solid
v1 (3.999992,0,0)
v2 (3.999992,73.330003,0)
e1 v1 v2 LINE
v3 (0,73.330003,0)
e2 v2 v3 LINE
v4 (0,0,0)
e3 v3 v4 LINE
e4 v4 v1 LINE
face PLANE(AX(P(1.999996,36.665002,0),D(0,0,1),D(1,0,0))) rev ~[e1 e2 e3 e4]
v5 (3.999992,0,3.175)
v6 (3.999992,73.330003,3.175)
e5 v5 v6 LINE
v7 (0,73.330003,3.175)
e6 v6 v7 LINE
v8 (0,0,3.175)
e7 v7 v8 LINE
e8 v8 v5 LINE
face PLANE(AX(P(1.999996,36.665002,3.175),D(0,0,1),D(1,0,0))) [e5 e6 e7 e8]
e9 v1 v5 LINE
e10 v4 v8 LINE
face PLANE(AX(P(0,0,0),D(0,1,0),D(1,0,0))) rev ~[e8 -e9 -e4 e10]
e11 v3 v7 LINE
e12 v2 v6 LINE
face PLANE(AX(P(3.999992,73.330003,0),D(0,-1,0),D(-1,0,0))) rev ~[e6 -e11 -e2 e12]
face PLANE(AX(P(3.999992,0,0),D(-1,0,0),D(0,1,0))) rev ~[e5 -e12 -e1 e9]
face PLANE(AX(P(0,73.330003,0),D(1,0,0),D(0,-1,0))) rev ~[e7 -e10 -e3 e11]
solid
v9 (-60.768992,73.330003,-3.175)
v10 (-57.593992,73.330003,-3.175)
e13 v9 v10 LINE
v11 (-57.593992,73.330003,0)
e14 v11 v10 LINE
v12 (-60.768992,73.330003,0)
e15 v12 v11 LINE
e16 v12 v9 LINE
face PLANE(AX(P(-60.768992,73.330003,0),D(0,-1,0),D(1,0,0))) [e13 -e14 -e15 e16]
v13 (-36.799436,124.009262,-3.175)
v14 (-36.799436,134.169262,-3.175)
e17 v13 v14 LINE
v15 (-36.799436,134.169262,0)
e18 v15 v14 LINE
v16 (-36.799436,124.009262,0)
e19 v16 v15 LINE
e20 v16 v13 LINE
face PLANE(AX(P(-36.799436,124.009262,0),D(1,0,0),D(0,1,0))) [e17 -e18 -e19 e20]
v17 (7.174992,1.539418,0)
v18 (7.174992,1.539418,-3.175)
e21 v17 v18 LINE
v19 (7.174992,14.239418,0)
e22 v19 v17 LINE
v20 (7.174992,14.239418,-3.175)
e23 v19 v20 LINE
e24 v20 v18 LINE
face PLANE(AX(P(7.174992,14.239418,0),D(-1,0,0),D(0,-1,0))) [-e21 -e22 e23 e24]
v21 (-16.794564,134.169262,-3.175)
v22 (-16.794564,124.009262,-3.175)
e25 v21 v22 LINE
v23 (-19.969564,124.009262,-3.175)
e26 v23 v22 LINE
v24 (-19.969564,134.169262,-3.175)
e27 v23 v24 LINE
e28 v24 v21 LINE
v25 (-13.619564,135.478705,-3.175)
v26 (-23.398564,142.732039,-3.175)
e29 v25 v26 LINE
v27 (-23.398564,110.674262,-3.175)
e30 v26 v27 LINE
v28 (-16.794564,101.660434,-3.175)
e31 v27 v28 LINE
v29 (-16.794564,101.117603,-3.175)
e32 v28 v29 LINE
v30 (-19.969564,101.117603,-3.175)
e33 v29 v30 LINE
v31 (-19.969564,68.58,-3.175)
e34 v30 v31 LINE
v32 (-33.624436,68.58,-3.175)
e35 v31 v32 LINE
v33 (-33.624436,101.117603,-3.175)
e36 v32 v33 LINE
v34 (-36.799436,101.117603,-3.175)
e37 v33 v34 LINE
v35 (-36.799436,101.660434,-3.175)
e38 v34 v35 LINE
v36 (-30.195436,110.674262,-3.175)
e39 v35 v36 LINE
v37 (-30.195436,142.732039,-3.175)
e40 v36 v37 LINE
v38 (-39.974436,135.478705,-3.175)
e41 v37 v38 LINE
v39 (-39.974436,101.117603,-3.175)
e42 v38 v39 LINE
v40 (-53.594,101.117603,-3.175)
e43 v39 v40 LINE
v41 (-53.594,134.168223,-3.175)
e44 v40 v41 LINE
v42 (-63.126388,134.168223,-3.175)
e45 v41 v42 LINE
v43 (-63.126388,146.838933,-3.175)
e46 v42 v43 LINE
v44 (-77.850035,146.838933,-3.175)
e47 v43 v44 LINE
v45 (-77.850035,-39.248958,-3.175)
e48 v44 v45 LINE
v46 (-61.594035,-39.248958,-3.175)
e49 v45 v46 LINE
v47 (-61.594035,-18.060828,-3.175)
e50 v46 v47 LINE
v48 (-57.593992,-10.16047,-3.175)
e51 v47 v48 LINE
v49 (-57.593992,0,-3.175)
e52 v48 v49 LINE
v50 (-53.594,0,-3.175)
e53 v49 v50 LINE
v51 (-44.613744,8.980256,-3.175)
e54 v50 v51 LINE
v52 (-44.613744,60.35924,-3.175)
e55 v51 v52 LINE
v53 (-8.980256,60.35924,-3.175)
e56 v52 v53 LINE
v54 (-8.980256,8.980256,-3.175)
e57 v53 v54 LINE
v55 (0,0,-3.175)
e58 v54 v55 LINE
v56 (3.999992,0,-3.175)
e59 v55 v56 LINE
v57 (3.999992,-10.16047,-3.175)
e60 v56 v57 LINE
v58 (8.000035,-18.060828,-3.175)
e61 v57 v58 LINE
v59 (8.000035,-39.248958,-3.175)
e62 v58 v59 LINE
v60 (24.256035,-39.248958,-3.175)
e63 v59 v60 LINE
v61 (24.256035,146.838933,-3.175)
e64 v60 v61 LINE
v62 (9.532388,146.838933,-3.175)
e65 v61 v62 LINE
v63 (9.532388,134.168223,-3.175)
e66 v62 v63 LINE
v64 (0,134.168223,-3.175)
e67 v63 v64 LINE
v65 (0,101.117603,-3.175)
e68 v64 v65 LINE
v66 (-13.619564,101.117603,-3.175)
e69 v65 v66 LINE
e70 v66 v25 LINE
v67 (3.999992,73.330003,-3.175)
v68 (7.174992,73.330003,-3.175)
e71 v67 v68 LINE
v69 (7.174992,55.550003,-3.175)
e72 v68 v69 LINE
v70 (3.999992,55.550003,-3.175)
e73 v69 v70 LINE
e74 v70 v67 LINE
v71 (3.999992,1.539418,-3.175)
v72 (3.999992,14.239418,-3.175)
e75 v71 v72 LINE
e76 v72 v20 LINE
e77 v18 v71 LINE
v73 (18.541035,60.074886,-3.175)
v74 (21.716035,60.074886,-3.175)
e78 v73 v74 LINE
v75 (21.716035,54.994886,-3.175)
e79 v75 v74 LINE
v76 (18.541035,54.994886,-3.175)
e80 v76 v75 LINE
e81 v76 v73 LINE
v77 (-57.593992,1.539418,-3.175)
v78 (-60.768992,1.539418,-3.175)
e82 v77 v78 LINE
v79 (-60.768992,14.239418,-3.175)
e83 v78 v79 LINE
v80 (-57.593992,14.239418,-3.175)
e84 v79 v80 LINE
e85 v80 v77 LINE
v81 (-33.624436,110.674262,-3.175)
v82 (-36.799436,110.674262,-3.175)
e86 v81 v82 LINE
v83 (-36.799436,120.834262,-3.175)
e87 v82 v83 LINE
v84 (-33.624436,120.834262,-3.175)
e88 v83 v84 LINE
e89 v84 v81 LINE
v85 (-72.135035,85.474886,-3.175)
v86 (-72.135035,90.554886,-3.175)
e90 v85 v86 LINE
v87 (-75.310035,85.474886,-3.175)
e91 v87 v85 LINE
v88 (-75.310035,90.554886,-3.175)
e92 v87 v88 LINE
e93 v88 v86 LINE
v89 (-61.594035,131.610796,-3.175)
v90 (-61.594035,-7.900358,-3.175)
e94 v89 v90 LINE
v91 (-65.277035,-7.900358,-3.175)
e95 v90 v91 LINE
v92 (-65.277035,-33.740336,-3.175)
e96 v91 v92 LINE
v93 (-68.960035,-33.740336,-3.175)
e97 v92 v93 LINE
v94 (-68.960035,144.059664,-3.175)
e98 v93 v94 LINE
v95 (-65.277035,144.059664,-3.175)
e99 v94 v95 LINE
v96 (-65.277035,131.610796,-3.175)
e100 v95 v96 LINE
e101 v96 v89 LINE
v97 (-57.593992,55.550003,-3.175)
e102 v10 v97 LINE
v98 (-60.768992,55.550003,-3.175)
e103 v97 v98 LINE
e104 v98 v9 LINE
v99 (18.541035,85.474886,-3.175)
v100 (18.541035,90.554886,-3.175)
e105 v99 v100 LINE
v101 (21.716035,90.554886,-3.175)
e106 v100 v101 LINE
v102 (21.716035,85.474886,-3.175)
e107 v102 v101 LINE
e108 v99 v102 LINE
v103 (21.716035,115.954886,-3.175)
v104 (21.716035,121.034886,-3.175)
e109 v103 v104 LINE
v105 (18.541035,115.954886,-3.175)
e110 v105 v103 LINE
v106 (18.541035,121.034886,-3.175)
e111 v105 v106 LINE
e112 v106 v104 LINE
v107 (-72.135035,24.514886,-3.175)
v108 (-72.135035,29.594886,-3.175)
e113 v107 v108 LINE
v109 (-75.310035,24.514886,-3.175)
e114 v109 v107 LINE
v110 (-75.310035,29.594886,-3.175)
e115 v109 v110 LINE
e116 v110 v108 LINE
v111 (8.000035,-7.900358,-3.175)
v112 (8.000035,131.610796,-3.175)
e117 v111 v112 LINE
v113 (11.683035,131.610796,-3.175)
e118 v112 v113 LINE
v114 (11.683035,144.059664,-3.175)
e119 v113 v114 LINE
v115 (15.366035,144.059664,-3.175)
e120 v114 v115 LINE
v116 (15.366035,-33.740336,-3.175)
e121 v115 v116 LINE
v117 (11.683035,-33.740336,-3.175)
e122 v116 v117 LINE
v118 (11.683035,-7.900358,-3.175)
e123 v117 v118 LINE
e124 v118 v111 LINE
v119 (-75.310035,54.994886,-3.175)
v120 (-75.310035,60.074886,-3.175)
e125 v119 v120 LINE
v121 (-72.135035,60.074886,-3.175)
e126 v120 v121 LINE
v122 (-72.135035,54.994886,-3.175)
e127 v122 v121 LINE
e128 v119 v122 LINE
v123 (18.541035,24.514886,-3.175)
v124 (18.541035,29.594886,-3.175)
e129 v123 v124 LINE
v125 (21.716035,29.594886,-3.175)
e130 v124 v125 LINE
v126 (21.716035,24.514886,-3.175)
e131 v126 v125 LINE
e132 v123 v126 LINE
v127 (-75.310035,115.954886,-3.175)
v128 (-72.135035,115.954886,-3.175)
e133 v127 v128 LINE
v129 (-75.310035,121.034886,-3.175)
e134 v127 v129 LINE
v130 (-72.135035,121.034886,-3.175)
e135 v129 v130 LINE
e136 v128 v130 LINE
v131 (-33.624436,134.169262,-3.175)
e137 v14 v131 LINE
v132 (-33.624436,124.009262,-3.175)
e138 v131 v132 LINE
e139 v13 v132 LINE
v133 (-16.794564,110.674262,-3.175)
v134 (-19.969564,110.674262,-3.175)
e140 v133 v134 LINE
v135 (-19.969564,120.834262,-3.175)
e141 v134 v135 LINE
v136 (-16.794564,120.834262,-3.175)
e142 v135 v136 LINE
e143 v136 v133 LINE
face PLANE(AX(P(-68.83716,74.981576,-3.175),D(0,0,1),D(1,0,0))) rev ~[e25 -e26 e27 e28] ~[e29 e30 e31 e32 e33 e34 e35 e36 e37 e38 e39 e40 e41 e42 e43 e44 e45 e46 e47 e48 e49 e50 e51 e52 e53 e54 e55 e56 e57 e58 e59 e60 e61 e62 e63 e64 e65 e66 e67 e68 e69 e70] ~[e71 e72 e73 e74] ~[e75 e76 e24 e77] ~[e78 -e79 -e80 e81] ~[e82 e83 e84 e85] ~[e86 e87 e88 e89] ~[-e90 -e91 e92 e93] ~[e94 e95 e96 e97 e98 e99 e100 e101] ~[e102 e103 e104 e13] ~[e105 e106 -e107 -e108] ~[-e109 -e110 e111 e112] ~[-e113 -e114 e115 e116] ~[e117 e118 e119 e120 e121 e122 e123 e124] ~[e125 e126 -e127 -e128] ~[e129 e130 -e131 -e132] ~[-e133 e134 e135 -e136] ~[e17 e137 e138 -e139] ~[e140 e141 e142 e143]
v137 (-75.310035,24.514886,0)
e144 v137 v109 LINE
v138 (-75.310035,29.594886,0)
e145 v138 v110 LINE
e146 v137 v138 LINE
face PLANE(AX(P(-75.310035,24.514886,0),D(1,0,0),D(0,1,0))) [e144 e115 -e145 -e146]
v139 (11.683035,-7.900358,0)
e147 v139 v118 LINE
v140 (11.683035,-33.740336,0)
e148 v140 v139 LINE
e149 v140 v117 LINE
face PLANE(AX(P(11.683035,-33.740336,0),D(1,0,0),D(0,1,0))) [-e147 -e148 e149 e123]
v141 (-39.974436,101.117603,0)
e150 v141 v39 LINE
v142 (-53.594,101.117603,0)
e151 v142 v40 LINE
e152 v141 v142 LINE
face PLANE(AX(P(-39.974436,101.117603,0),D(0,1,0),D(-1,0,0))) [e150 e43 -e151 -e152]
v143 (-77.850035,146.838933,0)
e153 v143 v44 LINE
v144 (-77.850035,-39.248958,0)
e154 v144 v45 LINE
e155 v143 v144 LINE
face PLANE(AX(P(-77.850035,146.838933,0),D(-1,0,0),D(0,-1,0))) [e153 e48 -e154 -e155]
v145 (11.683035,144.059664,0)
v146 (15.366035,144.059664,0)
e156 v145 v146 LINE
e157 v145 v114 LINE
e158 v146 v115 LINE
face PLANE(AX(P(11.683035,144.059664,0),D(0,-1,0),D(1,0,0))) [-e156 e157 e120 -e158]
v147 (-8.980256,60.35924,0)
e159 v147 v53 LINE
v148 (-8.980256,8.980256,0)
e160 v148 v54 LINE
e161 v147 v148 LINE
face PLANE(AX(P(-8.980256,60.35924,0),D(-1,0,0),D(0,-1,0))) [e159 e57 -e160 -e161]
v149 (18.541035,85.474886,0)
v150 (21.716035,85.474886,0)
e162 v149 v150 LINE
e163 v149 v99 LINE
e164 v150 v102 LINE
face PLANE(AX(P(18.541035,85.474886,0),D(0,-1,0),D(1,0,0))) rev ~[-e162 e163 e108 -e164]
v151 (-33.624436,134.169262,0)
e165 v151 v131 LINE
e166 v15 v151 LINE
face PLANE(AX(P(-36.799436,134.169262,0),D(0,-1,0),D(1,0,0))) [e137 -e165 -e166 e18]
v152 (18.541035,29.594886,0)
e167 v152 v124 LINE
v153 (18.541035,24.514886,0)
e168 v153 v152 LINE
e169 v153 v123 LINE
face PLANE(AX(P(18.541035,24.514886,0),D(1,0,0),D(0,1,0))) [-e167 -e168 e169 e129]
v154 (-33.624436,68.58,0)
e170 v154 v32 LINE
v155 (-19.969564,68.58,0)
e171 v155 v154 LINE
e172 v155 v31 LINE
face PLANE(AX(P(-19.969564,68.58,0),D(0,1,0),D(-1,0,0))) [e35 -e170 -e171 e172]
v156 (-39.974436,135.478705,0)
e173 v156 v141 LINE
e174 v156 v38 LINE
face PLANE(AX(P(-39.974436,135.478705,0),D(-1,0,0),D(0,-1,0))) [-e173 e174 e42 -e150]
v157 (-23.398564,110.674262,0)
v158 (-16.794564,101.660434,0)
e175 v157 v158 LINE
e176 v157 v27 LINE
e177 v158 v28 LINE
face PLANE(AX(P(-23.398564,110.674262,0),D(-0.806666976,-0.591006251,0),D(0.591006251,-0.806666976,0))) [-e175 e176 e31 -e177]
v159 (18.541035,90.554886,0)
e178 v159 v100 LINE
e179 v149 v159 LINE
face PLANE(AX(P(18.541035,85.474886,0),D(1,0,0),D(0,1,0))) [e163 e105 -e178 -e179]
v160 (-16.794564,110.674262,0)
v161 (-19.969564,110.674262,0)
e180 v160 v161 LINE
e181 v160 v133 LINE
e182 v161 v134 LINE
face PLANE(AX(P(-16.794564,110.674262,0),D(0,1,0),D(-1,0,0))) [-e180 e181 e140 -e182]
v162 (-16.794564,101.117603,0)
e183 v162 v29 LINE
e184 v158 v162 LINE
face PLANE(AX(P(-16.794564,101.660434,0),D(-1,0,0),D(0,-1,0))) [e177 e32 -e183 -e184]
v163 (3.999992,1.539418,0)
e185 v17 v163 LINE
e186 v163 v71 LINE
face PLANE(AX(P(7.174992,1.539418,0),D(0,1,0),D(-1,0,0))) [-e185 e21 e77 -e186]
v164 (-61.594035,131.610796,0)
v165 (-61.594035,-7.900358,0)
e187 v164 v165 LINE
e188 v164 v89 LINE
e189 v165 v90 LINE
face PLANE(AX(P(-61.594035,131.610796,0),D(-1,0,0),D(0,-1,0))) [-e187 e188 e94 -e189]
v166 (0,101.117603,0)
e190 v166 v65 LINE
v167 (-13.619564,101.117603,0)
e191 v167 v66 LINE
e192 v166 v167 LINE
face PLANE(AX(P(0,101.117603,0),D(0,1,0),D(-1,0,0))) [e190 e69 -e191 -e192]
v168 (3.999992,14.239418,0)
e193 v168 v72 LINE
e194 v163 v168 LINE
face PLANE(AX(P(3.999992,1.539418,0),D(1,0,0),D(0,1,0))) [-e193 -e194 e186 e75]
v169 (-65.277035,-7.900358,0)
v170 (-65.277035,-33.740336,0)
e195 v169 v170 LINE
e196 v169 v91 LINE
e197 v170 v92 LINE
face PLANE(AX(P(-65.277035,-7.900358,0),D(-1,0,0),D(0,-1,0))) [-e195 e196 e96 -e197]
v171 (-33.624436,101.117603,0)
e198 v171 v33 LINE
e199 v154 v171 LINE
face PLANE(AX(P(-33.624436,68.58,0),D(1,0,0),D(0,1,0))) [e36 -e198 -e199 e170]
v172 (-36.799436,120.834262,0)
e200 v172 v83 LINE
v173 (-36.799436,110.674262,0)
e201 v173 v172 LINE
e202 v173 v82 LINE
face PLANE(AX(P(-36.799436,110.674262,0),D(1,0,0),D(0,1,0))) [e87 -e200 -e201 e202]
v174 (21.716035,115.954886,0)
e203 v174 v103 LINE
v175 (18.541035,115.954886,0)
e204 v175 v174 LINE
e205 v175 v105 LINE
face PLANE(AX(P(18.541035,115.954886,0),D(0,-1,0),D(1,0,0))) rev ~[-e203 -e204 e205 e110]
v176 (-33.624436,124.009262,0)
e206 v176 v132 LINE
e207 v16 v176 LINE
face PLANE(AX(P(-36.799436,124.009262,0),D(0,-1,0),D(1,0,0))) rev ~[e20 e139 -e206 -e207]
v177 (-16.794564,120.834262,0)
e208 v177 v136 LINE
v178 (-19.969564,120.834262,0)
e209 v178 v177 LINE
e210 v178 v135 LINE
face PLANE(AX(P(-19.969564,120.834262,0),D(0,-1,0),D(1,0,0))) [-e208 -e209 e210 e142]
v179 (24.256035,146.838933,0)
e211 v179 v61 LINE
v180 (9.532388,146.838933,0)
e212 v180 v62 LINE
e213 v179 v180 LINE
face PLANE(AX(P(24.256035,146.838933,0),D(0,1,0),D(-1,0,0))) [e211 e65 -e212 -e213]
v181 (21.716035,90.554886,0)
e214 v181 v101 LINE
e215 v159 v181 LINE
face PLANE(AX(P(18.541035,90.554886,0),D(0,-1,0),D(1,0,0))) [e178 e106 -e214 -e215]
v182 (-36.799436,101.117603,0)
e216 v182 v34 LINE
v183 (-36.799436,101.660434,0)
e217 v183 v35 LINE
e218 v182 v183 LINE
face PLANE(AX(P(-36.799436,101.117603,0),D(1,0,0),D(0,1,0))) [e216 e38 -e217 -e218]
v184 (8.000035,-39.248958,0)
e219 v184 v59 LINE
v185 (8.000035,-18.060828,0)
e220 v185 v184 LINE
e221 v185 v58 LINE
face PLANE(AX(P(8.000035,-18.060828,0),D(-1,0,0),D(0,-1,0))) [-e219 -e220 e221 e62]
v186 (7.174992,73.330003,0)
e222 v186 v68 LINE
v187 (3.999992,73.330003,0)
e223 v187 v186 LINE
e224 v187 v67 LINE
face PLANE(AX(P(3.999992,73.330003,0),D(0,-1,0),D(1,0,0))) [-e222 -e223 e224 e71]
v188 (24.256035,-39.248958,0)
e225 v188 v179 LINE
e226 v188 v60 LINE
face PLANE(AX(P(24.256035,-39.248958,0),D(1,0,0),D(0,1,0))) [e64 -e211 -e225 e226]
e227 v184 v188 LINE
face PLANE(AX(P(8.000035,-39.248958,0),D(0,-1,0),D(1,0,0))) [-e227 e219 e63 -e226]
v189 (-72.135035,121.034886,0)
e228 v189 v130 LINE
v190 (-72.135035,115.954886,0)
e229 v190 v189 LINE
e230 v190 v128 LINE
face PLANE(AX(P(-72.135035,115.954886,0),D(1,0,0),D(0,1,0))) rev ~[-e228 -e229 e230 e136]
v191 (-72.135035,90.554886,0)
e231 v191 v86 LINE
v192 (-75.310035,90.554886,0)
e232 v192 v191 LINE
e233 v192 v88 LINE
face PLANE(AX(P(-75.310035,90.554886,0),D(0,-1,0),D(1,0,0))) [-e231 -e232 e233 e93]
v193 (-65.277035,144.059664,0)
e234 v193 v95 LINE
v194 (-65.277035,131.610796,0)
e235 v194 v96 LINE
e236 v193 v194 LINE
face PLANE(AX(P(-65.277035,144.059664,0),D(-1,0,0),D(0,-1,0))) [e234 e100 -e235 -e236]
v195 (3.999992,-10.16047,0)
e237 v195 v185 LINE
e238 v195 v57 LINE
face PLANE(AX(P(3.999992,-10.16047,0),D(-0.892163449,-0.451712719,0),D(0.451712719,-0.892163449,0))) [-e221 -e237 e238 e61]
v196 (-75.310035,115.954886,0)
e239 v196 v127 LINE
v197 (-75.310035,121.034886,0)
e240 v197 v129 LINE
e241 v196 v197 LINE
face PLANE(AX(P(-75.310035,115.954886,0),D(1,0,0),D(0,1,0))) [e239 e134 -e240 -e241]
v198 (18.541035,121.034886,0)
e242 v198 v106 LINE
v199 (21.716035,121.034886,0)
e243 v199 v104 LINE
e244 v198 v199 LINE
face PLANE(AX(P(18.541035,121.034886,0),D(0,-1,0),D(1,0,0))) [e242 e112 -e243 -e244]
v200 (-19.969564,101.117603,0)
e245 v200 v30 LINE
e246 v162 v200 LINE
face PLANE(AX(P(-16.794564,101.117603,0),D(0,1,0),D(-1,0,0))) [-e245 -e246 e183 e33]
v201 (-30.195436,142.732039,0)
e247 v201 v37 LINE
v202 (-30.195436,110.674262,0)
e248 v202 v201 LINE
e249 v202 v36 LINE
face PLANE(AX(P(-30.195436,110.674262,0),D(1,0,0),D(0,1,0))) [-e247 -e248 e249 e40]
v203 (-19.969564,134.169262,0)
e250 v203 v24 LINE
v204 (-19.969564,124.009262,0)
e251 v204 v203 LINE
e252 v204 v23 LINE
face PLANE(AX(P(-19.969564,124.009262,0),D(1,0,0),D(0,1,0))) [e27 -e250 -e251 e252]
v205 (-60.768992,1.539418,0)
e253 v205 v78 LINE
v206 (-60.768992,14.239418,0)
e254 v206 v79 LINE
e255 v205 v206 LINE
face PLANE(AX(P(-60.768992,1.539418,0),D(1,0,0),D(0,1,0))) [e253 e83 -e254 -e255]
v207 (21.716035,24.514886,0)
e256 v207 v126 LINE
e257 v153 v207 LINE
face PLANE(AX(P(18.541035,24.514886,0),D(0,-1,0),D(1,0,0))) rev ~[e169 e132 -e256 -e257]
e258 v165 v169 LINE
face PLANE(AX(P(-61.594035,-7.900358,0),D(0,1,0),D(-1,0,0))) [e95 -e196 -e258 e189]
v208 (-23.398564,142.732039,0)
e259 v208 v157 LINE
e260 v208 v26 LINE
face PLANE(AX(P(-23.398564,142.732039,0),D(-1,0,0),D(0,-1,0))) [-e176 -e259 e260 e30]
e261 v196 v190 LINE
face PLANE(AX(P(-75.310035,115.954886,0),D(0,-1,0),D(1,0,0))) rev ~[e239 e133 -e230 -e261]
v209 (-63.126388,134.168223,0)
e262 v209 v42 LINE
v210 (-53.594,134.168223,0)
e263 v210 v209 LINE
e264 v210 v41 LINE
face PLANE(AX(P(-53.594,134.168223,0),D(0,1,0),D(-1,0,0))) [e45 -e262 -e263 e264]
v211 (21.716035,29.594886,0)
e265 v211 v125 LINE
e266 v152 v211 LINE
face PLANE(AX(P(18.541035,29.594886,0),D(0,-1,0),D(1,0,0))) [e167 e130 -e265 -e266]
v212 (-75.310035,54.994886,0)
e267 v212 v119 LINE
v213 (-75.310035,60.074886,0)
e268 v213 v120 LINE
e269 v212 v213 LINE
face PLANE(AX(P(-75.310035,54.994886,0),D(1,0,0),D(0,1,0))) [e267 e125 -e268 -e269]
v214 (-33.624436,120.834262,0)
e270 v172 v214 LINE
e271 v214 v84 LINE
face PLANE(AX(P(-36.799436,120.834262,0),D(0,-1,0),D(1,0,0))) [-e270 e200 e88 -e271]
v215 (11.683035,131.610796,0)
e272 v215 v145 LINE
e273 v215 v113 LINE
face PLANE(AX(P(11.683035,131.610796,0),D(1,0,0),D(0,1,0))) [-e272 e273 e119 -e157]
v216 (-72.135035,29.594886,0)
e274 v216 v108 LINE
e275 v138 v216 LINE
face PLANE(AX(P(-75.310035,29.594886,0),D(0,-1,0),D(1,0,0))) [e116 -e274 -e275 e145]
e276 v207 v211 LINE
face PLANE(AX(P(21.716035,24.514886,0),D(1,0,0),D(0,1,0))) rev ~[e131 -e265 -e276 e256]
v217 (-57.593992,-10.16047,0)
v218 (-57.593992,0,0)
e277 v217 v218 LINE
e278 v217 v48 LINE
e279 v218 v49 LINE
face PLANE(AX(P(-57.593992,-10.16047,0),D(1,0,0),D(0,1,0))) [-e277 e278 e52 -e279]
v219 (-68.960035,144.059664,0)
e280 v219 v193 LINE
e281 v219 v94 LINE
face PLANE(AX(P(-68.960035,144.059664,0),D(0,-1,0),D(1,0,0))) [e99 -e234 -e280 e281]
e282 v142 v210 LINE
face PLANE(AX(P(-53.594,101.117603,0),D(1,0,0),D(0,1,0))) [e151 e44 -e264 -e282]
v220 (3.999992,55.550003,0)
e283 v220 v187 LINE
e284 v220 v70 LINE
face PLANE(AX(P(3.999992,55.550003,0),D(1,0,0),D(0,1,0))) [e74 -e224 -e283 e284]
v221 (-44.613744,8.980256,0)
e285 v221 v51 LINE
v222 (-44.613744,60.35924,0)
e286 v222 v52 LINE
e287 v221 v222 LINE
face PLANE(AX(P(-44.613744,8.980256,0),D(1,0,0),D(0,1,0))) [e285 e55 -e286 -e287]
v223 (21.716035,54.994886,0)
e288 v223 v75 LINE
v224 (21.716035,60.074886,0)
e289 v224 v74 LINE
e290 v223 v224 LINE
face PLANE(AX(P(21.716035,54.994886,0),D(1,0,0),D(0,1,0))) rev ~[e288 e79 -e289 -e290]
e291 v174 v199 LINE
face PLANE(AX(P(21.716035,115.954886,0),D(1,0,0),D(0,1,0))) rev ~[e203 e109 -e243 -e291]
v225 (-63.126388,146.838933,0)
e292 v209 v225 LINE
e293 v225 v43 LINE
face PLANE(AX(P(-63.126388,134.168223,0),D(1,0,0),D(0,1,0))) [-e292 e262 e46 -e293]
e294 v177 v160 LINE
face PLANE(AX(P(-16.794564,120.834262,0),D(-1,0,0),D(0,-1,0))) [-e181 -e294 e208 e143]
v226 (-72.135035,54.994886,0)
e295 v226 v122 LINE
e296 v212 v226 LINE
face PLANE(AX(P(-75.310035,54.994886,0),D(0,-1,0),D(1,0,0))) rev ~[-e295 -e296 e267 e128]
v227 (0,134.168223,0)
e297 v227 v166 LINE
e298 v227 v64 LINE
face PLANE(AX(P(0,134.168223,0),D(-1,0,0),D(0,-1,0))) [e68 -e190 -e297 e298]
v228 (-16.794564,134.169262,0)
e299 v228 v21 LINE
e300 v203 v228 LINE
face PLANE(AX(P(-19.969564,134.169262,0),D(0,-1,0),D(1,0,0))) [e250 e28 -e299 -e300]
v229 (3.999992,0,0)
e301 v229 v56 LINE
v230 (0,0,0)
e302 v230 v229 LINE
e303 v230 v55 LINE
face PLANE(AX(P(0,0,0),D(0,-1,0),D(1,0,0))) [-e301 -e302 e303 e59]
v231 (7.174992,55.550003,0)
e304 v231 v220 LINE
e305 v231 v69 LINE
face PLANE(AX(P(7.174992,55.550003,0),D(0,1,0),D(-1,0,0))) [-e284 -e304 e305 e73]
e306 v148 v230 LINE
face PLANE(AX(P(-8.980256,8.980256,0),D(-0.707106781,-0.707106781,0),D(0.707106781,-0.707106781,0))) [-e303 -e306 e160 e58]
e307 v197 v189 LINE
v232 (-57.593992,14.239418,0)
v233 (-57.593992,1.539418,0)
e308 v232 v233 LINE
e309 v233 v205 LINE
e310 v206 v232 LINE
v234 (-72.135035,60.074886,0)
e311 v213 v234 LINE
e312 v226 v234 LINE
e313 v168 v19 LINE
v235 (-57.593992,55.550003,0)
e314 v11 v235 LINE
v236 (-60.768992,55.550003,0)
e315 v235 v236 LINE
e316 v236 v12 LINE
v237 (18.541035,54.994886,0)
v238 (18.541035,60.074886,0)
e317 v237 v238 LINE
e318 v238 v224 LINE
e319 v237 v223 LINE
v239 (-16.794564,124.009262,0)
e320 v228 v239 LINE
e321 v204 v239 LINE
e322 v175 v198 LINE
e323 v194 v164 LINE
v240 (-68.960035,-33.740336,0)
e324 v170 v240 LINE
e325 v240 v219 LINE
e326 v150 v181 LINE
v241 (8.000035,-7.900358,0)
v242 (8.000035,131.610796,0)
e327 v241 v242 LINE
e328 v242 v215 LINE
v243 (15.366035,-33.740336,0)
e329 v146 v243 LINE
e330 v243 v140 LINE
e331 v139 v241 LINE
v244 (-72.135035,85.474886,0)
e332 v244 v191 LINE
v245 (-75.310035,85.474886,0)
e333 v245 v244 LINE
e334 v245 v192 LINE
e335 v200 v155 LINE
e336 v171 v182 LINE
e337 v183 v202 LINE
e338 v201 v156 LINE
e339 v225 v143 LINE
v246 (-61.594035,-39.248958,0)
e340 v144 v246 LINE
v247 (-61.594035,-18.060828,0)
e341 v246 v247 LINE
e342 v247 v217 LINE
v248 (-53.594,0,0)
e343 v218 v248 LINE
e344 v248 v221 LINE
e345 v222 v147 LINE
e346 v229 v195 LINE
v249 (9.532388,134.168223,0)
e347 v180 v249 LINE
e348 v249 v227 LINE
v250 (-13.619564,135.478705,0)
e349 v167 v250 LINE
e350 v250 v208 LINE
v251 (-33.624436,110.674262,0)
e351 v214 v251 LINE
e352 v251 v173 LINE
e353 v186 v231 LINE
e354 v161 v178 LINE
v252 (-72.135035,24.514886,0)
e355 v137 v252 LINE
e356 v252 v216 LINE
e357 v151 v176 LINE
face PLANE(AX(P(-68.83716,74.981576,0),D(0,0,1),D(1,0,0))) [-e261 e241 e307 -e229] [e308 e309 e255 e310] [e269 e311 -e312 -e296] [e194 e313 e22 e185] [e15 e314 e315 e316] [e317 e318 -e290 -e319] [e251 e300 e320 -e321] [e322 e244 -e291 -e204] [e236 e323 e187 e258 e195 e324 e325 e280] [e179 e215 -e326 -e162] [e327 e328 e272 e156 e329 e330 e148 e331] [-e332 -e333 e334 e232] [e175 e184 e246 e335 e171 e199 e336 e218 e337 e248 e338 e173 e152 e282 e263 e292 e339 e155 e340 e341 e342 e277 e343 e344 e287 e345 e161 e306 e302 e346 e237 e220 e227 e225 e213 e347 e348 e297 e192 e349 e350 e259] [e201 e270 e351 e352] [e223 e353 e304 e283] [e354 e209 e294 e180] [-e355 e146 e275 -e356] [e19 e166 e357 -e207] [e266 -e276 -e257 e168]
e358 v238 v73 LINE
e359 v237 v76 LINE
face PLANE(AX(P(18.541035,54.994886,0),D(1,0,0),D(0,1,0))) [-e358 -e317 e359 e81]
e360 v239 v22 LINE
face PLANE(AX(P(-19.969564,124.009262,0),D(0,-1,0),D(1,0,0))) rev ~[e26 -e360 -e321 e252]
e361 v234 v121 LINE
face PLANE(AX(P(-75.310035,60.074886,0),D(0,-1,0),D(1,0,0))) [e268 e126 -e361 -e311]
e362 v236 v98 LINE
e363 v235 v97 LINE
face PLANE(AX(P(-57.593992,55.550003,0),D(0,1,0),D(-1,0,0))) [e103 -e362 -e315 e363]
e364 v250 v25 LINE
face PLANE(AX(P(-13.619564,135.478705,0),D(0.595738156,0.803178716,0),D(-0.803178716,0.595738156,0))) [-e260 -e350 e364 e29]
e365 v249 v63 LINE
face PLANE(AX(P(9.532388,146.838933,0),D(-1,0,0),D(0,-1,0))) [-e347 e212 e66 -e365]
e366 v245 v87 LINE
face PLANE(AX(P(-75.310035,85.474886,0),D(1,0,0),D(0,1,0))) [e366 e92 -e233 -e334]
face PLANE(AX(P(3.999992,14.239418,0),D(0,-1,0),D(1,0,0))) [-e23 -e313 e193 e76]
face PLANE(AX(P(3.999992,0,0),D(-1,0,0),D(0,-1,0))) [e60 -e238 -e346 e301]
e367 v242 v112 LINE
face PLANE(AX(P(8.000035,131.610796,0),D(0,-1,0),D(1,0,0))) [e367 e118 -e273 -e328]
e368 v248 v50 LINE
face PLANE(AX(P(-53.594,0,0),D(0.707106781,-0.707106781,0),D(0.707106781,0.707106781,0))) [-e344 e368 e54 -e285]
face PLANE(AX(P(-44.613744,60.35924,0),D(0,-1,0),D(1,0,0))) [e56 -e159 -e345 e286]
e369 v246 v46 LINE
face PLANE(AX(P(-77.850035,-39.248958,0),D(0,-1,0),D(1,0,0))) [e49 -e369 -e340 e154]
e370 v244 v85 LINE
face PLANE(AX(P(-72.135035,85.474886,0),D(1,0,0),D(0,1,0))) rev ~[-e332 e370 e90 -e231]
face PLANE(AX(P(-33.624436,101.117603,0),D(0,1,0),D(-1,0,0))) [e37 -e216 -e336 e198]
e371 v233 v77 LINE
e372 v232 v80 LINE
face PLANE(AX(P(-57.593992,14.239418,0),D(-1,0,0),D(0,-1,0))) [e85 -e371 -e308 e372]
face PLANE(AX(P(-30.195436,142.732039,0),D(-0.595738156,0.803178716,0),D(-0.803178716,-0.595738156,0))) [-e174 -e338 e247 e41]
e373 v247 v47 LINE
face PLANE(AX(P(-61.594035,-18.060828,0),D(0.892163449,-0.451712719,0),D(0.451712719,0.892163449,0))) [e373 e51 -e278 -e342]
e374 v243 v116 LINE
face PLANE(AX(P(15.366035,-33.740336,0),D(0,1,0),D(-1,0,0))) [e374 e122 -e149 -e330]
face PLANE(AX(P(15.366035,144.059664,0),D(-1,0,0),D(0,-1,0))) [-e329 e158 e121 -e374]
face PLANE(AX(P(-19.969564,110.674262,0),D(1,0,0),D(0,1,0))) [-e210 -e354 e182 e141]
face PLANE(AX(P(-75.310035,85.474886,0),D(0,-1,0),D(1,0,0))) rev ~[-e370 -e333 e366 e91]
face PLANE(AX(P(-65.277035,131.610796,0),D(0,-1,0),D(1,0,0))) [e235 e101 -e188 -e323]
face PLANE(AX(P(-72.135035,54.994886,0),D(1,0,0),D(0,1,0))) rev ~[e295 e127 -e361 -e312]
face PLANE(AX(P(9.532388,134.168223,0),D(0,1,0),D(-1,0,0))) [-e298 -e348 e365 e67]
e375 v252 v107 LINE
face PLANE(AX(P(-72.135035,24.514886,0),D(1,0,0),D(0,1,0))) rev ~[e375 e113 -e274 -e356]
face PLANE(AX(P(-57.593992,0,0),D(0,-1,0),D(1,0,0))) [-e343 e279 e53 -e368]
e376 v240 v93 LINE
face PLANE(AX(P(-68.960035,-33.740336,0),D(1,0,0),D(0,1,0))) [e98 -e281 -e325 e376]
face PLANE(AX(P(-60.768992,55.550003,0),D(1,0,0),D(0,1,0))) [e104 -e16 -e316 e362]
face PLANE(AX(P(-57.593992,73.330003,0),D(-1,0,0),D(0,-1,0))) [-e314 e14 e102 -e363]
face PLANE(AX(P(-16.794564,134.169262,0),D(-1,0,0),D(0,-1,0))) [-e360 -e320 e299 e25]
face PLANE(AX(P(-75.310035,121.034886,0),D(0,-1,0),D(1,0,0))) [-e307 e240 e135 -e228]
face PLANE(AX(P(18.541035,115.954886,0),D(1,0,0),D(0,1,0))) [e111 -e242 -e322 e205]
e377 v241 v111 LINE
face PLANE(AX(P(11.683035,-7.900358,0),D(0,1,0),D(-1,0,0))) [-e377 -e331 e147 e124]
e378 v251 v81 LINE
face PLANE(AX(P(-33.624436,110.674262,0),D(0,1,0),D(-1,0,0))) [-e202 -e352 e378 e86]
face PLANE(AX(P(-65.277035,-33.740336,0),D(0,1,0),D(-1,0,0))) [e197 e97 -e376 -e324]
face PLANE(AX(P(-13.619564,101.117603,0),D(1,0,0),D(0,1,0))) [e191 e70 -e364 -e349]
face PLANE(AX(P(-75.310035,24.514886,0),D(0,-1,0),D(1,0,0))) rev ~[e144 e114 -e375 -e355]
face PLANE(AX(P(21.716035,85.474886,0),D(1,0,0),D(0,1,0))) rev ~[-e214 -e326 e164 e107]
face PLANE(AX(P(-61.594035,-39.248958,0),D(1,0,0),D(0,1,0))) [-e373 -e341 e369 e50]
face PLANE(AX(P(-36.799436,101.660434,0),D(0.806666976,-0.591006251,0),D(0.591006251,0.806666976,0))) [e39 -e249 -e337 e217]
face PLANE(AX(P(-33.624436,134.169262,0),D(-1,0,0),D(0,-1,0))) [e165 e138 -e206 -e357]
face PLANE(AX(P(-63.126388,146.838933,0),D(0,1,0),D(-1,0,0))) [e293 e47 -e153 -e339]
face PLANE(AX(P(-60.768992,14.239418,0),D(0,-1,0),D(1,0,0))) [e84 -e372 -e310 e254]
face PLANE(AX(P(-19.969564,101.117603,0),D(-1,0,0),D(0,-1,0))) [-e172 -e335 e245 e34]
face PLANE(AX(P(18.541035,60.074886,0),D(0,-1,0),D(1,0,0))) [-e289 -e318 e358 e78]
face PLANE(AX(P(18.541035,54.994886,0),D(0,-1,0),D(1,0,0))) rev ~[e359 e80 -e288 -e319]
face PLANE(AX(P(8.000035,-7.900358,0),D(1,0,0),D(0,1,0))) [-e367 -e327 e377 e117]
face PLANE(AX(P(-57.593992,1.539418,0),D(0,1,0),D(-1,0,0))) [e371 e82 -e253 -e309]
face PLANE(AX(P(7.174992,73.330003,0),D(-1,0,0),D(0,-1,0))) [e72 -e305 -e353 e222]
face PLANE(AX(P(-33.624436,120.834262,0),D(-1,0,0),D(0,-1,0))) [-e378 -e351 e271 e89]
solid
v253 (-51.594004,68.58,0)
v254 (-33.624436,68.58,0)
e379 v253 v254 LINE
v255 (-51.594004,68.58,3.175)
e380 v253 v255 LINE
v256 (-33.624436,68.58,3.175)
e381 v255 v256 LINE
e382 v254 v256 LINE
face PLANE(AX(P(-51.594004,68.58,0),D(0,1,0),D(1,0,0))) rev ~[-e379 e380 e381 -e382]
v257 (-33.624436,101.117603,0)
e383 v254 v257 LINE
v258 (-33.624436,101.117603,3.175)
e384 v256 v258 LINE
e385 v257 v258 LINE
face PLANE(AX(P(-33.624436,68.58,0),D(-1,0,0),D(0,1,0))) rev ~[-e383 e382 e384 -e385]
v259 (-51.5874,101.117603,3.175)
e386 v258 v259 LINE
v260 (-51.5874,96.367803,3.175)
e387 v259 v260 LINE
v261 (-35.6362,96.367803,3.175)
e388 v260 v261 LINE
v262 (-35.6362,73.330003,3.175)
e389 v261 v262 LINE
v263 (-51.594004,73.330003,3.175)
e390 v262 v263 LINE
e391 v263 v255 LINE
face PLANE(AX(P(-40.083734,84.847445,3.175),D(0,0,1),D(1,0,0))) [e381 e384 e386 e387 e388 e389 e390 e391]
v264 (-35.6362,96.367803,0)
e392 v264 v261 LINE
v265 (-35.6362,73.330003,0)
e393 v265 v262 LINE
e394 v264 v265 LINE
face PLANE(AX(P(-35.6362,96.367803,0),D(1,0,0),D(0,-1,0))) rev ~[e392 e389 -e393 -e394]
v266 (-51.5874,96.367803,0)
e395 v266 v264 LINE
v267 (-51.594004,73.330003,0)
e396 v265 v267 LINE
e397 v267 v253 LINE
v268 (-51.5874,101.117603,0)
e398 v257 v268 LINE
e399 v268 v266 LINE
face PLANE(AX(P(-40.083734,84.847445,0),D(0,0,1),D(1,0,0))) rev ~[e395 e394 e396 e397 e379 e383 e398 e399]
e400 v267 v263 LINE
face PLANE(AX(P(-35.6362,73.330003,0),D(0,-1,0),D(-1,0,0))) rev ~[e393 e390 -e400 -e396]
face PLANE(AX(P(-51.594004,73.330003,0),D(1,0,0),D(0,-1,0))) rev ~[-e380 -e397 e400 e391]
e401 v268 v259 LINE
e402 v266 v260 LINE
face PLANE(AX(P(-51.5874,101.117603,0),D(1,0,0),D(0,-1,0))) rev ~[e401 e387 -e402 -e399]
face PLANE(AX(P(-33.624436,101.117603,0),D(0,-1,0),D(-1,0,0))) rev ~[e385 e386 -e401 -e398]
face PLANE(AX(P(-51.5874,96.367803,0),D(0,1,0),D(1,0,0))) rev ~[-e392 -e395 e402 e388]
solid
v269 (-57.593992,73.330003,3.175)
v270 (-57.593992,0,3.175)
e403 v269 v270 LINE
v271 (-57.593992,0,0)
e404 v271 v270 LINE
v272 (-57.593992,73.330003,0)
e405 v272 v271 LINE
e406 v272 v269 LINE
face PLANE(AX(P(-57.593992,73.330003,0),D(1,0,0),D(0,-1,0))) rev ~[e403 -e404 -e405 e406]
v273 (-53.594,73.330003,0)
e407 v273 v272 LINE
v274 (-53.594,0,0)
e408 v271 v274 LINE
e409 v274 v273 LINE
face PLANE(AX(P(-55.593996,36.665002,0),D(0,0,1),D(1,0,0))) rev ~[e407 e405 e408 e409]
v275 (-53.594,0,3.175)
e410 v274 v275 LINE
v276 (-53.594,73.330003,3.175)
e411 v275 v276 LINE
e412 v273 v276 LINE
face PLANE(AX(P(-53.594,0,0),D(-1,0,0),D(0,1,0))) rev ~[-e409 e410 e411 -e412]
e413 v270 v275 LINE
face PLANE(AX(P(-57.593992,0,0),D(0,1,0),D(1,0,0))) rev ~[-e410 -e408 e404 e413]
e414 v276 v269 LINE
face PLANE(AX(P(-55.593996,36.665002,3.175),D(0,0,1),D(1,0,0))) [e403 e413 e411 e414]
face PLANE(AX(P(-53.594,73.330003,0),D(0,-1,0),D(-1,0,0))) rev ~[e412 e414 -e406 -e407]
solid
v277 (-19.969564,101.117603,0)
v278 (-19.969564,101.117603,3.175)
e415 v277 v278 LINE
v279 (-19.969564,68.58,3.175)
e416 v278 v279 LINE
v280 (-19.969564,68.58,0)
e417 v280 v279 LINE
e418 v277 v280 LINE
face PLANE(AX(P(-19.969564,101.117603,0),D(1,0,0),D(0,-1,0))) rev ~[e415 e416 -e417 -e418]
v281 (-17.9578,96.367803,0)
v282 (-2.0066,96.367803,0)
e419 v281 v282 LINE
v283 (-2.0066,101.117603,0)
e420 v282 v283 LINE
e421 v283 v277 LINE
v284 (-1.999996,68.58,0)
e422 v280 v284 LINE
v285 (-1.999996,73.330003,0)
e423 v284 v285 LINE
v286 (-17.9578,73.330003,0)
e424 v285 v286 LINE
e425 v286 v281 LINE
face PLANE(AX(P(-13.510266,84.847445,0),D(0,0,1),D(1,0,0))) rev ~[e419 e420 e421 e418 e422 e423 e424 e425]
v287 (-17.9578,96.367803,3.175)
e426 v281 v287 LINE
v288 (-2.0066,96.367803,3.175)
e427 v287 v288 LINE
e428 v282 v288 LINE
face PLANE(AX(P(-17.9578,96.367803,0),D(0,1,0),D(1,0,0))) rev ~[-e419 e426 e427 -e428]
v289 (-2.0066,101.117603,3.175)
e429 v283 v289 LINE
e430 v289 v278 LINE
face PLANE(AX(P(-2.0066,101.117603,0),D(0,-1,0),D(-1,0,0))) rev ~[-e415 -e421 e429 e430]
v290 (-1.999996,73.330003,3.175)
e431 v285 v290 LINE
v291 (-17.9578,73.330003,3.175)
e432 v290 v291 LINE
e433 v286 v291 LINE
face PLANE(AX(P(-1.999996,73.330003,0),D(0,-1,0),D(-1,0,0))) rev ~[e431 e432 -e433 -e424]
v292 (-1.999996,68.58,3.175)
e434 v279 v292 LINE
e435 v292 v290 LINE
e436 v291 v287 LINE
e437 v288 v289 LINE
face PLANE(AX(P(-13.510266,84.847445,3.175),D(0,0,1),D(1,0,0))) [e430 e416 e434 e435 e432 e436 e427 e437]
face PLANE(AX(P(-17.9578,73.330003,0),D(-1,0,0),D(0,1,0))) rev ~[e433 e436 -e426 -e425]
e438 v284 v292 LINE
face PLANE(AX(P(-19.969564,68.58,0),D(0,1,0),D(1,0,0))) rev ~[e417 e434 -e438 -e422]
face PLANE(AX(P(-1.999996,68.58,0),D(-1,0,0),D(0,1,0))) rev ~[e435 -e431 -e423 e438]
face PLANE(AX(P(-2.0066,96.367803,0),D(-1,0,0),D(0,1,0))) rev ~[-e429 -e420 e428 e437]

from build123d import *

# Parameters (mm, degrees)
F0_W     = 3.175
F0_H     = 5.08
F0_W_2   = 2.0066
F0_H_2   = 4.7498
F0_W_3   = 1.999996
F0_H_3   = 4.7500032
F0_H_4   = 3.175
F1_DEPTH = 3.175
F2_DEPTH = 3.175


with BuildPart() as f1:
    # F0 (on Top) → F1 (new body)
    with BuildSketch(Plane.XY):
        Polygon((-57.593992, 73.3300032), (-53.594, 73.3300032), (-53.594, 96.3678032), (-53.594, 101.1176032), (-53.594, 134.1682225466), (-63.1263878722, 134.1682225466), (-63.1263878722, 146.8389332294), (-77.8500348, 146.8389332294), (-77.8500348, -30.2285756916), (-68.9600348, -30.2285756916), (-68.9600348, 0), (-68.9600348, 24.5148862), (-68.9600348, 144.0596636616), (-65.2770348, 144.0596636616), (-65.2770348, 131.6107958555), (-61.5940348, 131.6107958555), (-61.5940348, 73.3300032), (-60.768992, 73.3300032), align=None)
        with Locations((-73.7225348, 27.0548862)):
            Rectangle(F0_W, F0_H, mode=Mode.SUBTRACT)
        with Locations((-73.7225348, 57.5348862)):
            Rectangle(F0_W, F0_H, mode=Mode.SUBTRACT)
        with Locations((-73.7225348, 88.0148862)):
            Rectangle(F0_W, F0_H, mode=Mode.SUBTRACT)
        with Locations((-73.7225348, 118.4948862)):
            Rectangle(F0_W, F0_H, mode=Mode.SUBTRACT)
        Polygon((-53.594, 0), (-53.594, 68.58), (-53.594, 73.3300032), (-57.593992, 73.3300032), (-57.593992, 55.5500032), (-57.593992, 14.2394178), (-57.593992, 1.5394178), (-57.593992, 0), align=None)
        Polygon((-61.5940348, 0), (-57.593992, 0), (-57.593992, 1.5394178), (-60.768992, 1.5394178), (-60.768992, 14.2394178), (-57.593992, 14.2394178), (-57.593992, 55.5500032), (-60.768992, 55.5500032), (-60.768992, 73.3300032), (-61.5940348, 73.3300032), align=None)
        Polygon((-57.593992, -10.1604700894), (-57.593992, 0), (-61.5940348, -7.9003575384), (-65.2770348, -7.9003575384), (-65.2770348, -33.7403363384), (-65.2770348, -39.24895823), (-61.5940348, -39.24895823), (-61.5940348, -18.0608276278), align=None)
        Polygon((-61.5940348, -7.9003575384), (-57.593992, 0), (-61.5940348, 0), align=None)
        Polygon((-65.2770348, -39.24895823), (-65.2770348, -33.7403363384), (-68.9600348, -33.7403363384), (-68.9600348, -30.2285756916), (-77.8500348, -30.2285756916), (-77.8500348, -39.24895823), align=None)
        Polygon((-51.594004, 68.58), (-53.594, 68.58), (-53.594, 0), (-44.6137438789, 8.9802561211), (-44.6137438789, 60.3592395782), (-44.6137438789, 68.58), align=None)
        Polygon((-33.6244356733, 68.58), (-44.6137438789, 68.58), (-44.6137438789, 60.3592395782), (-26.797, 60.3592395782), (-26.797, 68.58), align=None)
        Polygon((-51.594004, 73.3300032), (-51.594004, 68.58), (-44.6137438789, 68.58), (-33.6244356733, 68.58), (-33.6244356733, 90.795443326), (-33.6244356733, 101.1176032), (-36.7994356733, 101.1176032), (-39.9744356733, 101.1176032), (-51.5874, 101.1176032), (-51.5874, 96.3678032), (-35.6362, 96.3678032), (-35.6362, 73.3300032), align=None)
        Polygon((-53.594, 96.3678032), (-53.594, 73.3300032), (-51.594004, 73.3300032), (-35.6362, 73.3300032), (-35.6362, 96.3678032), (-51.5874, 96.3678032), align=None)
        with Locations((-52.5907, 98.7427032)):
            Rectangle(F0_W_2, F0_H_2)
        with Locations((-52.594002, 70.9550016)):
            Rectangle(F0_W_3, F0_H_3)
        Polygon((-26.797, 68.58), (-26.797, 60.3592395782), (-8.9802561211, 60.3592395782), (-8.9802561211, 68.58), (-19.9695643267, 68.58), align=None)
        Polygon((-8.9802561211, 8.9802561211), (0, 0), (0, 68.58), (-1.999996, 68.58), (-8.9802561211, 68.58), (-8.9802561211, 60.3592395782), align=None)
        Polygon((-19.9695643267, 90.795443326), (-19.9695643267, 68.58), (-8.9802561211, 68.58), (-1.999996, 68.58), (-1.999996, 73.3300032), (-17.9578, 73.3300032), (-17.9578, 96.3678032), (-2.0066, 96.3678032), (-2.0066, 101.1176032), (-13.6195643267, 101.1176032), (-16.7945643267, 101.1176032), (-19.9695643267, 101.1176032), align=None)
        Polygon((-1.999996, 73.3300032), (0, 73.3300032), (0, 96.3678032), (-2.0066, 96.3678032), (-17.9578, 96.3678032), (-17.9578, 73.3300032), align=None)
        with Locations((-1.0033, 98.7427032)):
            Rectangle(F0_W_2, F0_H_2)
        with Locations((-0.999998, 70.9550016)):
            Rectangle(F0_W_3, F0_H_3)
        Polygon((0, 68.58), (0, 0), (3.999992, 0), (3.999992, 1.5394178), (3.999992, 14.2394178), (3.999992, 55.5500032), (3.999992, 73.3300032), (0, 73.3300032), align=None)
        Polygon((0, 96.3678032), (0, 73.3300032), (3.999992, 73.3300032), (7.174992, 73.3300032), (8.0000348, 73.3300032), (8.0000348, 131.6107958555), (11.6830348, 131.6107958555), (11.6830348, 144.0596636616), (15.3660348, 144.0596636616), (15.3660348, 24.5148862), (15.3660348, 0), (15.3660348, -30.2285756916), (24.2560348, -30.2285756916), (24.2560348, 146.8389332294), (9.5323878722, 146.8389332294), (9.5323878722, 134.1682225466), (0, 134.1682225466), (0, 101.1176032), align=None)
        with Locations((20.1285348, 27.0548862)):
            Rectangle(F0_W, F0_H, mode=Mode.SUBTRACT)
        with Locations((20.1285348, 57.5348862)):
            Rectangle(F0_W, F0_H, mode=Mode.SUBTRACT)
        with Locations((20.1285348, 88.0148862)):
            Rectangle(F0_W, F0_H, mode=Mode.SUBTRACT)
        with Locations((20.1285348, 118.4948862)):
            Rectangle(F0_W, F0_H, mode=Mode.SUBTRACT)
        Polygon((3.999992, 1.5394178), (3.999992, 0), (8.0000348, 0), (8.0000348, 73.3300032), (7.174992, 73.3300032), (7.174992, 55.5500032), (3.999992, 55.5500032), (3.999992, 14.2394178), (7.174992, 14.2394178), (7.174992, 1.5394178), align=None)
        Polygon((15.3660348, -33.7403363384), (11.6830348, -33.7403363384), (11.6830348, -39.24895823), (24.2560348, -39.24895823), (24.2560348, -30.2285756916), (15.3660348, -30.2285756916), align=None)
        Polygon((8.0000348, -7.9003575384), (3.999992, 0), (3.999992, -10.1604700894), (8.0000348, -18.0608276278), (8.0000348, -39.24895823), (11.6830348, -39.24895823), (11.6830348, -33.7403363384), (11.6830348, -7.9003575384), align=None)
        Polygon((8.0000348, 0), (3.999992, 0), (8.0000348, -7.9003575384), align=None)
        Polygon((-36.7994356733, 110.6742616482), (-36.7994356733, 101.6604336215), (-30.1954356733, 110.6742616482), (-33.6244356733, 110.6742616482), align=None)
        Polygon((-39.9744356733, 135.4787051678), (-39.9744356733, 101.1176032), (-36.7994356733, 101.1176032), (-36.7994356733, 101.6604336215), (-36.7994356733, 110.6742616482), (-36.7994356733, 120.8342616482), (-36.7994356733, 124.0092616482), (-36.7994356733, 134.1692616482), (-33.6244356733, 134.1692616482), (-33.6244356733, 124.0092616482), (-33.6244356733, 120.8342616482), (-33.6244356733, 110.6742616482), (-30.1954356733, 110.6742616482), (-30.1954356733, 142.732039094), align=None)
        with Locations((-35.2119356733, 122.4217616482)):
            Rectangle(F0_W, F0_H_4)
        with Locations((-18.3820643267, 122.4217616482)):
            Rectangle(F0_W, F0_H_4)
        Polygon((-16.7945643267, 101.6604336215), (-16.7945643267, 101.1176032), (-13.6195643267, 101.1176032), (-13.6195643267, 135.4787051678), (-23.3985643267, 142.732039094), (-23.3985643267, 110.6742616482), (-19.9695643267, 110.6742616482), (-19.9695643267, 120.8342616482), (-19.9695643267, 124.0092616482), (-19.9695643267, 134.1692616482), (-16.7945643267, 134.1692616482), (-16.7945643267, 124.0092616482), (-16.7945643267, 120.8342616482), (-16.7945643267, 110.6742616482), align=None)
        Polygon((-23.3985643267, 110.6742616482), (-16.7945643267, 101.6604336215), (-16.7945643267, 110.6742616482), (-19.9695643267, 110.6742616482), align=None)
    extrude(amount=-F1_DEPTH)


with BuildPart() as f2:
    # F0 (on Top) → F2 (new body)
    with BuildSketch(Plane.XY):
        Polygon((0, 68.58), (0, 0), (3.999992, 0), (3.999992, 1.5394178), (3.999992, 14.2394178), (3.999992, 55.5500032), (3.999992, 73.3300032), (0, 73.3300032), align=None)
    extrude(amount=F2_DEPTH)


with BuildPart() as f2b:
    # F0 (on Top) → F2, piece 2 (new body)
    with BuildSketch(Plane.XY):
        Polygon((-19.9695643267, 90.795443326), (-19.9695643267, 68.58), (-8.9802561211, 68.58), (-1.999996, 68.58), (-1.999996, 73.3300032), (-17.9578, 73.3300032), (-17.9578, 96.3678032), (-2.0066, 96.3678032), (-2.0066, 101.1176032), (-13.6195643267, 101.1176032), (-16.7945643267, 101.1176032), (-19.9695643267, 101.1176032), align=None)
    extrude(amount=F2_DEPTH)


with BuildPart() as f2c:
    # F0 (on Top) → F2, piece 3 (new body)
    with BuildSketch(Plane.XY):
        Polygon((-51.594004, 73.3300032), (-51.594004, 68.58), (-44.6137438789, 68.58), (-33.6244356733, 68.58), (-33.6244356733, 90.795443326), (-33.6244356733, 101.1176032), (-36.7994356733, 101.1176032), (-39.9744356733, 101.1176032), (-51.5874, 101.1176032), (-51.5874, 96.3678032), (-35.6362, 96.3678032), (-35.6362, 73.3300032), align=None)
    extrude(amount=F2_DEPTH)


with BuildPart() as f2d:
    # F0 (on Top) → F2, piece 4 (new body)
    with BuildSketch(Plane.XY):
        Polygon((-53.594, 0), (-53.594, 68.58), (-53.594, 73.3300032), (-57.593992, 73.3300032), (-57.593992, 55.5500032), (-57.593992, 14.2394178), (-57.593992, 1.5394178), (-57.593992, 0), align=None)
    extrude(amount=F2_DEPTH)


solid = Compound([f1.part, f2.part, f2b.part, f2c.part, f2d.part])
